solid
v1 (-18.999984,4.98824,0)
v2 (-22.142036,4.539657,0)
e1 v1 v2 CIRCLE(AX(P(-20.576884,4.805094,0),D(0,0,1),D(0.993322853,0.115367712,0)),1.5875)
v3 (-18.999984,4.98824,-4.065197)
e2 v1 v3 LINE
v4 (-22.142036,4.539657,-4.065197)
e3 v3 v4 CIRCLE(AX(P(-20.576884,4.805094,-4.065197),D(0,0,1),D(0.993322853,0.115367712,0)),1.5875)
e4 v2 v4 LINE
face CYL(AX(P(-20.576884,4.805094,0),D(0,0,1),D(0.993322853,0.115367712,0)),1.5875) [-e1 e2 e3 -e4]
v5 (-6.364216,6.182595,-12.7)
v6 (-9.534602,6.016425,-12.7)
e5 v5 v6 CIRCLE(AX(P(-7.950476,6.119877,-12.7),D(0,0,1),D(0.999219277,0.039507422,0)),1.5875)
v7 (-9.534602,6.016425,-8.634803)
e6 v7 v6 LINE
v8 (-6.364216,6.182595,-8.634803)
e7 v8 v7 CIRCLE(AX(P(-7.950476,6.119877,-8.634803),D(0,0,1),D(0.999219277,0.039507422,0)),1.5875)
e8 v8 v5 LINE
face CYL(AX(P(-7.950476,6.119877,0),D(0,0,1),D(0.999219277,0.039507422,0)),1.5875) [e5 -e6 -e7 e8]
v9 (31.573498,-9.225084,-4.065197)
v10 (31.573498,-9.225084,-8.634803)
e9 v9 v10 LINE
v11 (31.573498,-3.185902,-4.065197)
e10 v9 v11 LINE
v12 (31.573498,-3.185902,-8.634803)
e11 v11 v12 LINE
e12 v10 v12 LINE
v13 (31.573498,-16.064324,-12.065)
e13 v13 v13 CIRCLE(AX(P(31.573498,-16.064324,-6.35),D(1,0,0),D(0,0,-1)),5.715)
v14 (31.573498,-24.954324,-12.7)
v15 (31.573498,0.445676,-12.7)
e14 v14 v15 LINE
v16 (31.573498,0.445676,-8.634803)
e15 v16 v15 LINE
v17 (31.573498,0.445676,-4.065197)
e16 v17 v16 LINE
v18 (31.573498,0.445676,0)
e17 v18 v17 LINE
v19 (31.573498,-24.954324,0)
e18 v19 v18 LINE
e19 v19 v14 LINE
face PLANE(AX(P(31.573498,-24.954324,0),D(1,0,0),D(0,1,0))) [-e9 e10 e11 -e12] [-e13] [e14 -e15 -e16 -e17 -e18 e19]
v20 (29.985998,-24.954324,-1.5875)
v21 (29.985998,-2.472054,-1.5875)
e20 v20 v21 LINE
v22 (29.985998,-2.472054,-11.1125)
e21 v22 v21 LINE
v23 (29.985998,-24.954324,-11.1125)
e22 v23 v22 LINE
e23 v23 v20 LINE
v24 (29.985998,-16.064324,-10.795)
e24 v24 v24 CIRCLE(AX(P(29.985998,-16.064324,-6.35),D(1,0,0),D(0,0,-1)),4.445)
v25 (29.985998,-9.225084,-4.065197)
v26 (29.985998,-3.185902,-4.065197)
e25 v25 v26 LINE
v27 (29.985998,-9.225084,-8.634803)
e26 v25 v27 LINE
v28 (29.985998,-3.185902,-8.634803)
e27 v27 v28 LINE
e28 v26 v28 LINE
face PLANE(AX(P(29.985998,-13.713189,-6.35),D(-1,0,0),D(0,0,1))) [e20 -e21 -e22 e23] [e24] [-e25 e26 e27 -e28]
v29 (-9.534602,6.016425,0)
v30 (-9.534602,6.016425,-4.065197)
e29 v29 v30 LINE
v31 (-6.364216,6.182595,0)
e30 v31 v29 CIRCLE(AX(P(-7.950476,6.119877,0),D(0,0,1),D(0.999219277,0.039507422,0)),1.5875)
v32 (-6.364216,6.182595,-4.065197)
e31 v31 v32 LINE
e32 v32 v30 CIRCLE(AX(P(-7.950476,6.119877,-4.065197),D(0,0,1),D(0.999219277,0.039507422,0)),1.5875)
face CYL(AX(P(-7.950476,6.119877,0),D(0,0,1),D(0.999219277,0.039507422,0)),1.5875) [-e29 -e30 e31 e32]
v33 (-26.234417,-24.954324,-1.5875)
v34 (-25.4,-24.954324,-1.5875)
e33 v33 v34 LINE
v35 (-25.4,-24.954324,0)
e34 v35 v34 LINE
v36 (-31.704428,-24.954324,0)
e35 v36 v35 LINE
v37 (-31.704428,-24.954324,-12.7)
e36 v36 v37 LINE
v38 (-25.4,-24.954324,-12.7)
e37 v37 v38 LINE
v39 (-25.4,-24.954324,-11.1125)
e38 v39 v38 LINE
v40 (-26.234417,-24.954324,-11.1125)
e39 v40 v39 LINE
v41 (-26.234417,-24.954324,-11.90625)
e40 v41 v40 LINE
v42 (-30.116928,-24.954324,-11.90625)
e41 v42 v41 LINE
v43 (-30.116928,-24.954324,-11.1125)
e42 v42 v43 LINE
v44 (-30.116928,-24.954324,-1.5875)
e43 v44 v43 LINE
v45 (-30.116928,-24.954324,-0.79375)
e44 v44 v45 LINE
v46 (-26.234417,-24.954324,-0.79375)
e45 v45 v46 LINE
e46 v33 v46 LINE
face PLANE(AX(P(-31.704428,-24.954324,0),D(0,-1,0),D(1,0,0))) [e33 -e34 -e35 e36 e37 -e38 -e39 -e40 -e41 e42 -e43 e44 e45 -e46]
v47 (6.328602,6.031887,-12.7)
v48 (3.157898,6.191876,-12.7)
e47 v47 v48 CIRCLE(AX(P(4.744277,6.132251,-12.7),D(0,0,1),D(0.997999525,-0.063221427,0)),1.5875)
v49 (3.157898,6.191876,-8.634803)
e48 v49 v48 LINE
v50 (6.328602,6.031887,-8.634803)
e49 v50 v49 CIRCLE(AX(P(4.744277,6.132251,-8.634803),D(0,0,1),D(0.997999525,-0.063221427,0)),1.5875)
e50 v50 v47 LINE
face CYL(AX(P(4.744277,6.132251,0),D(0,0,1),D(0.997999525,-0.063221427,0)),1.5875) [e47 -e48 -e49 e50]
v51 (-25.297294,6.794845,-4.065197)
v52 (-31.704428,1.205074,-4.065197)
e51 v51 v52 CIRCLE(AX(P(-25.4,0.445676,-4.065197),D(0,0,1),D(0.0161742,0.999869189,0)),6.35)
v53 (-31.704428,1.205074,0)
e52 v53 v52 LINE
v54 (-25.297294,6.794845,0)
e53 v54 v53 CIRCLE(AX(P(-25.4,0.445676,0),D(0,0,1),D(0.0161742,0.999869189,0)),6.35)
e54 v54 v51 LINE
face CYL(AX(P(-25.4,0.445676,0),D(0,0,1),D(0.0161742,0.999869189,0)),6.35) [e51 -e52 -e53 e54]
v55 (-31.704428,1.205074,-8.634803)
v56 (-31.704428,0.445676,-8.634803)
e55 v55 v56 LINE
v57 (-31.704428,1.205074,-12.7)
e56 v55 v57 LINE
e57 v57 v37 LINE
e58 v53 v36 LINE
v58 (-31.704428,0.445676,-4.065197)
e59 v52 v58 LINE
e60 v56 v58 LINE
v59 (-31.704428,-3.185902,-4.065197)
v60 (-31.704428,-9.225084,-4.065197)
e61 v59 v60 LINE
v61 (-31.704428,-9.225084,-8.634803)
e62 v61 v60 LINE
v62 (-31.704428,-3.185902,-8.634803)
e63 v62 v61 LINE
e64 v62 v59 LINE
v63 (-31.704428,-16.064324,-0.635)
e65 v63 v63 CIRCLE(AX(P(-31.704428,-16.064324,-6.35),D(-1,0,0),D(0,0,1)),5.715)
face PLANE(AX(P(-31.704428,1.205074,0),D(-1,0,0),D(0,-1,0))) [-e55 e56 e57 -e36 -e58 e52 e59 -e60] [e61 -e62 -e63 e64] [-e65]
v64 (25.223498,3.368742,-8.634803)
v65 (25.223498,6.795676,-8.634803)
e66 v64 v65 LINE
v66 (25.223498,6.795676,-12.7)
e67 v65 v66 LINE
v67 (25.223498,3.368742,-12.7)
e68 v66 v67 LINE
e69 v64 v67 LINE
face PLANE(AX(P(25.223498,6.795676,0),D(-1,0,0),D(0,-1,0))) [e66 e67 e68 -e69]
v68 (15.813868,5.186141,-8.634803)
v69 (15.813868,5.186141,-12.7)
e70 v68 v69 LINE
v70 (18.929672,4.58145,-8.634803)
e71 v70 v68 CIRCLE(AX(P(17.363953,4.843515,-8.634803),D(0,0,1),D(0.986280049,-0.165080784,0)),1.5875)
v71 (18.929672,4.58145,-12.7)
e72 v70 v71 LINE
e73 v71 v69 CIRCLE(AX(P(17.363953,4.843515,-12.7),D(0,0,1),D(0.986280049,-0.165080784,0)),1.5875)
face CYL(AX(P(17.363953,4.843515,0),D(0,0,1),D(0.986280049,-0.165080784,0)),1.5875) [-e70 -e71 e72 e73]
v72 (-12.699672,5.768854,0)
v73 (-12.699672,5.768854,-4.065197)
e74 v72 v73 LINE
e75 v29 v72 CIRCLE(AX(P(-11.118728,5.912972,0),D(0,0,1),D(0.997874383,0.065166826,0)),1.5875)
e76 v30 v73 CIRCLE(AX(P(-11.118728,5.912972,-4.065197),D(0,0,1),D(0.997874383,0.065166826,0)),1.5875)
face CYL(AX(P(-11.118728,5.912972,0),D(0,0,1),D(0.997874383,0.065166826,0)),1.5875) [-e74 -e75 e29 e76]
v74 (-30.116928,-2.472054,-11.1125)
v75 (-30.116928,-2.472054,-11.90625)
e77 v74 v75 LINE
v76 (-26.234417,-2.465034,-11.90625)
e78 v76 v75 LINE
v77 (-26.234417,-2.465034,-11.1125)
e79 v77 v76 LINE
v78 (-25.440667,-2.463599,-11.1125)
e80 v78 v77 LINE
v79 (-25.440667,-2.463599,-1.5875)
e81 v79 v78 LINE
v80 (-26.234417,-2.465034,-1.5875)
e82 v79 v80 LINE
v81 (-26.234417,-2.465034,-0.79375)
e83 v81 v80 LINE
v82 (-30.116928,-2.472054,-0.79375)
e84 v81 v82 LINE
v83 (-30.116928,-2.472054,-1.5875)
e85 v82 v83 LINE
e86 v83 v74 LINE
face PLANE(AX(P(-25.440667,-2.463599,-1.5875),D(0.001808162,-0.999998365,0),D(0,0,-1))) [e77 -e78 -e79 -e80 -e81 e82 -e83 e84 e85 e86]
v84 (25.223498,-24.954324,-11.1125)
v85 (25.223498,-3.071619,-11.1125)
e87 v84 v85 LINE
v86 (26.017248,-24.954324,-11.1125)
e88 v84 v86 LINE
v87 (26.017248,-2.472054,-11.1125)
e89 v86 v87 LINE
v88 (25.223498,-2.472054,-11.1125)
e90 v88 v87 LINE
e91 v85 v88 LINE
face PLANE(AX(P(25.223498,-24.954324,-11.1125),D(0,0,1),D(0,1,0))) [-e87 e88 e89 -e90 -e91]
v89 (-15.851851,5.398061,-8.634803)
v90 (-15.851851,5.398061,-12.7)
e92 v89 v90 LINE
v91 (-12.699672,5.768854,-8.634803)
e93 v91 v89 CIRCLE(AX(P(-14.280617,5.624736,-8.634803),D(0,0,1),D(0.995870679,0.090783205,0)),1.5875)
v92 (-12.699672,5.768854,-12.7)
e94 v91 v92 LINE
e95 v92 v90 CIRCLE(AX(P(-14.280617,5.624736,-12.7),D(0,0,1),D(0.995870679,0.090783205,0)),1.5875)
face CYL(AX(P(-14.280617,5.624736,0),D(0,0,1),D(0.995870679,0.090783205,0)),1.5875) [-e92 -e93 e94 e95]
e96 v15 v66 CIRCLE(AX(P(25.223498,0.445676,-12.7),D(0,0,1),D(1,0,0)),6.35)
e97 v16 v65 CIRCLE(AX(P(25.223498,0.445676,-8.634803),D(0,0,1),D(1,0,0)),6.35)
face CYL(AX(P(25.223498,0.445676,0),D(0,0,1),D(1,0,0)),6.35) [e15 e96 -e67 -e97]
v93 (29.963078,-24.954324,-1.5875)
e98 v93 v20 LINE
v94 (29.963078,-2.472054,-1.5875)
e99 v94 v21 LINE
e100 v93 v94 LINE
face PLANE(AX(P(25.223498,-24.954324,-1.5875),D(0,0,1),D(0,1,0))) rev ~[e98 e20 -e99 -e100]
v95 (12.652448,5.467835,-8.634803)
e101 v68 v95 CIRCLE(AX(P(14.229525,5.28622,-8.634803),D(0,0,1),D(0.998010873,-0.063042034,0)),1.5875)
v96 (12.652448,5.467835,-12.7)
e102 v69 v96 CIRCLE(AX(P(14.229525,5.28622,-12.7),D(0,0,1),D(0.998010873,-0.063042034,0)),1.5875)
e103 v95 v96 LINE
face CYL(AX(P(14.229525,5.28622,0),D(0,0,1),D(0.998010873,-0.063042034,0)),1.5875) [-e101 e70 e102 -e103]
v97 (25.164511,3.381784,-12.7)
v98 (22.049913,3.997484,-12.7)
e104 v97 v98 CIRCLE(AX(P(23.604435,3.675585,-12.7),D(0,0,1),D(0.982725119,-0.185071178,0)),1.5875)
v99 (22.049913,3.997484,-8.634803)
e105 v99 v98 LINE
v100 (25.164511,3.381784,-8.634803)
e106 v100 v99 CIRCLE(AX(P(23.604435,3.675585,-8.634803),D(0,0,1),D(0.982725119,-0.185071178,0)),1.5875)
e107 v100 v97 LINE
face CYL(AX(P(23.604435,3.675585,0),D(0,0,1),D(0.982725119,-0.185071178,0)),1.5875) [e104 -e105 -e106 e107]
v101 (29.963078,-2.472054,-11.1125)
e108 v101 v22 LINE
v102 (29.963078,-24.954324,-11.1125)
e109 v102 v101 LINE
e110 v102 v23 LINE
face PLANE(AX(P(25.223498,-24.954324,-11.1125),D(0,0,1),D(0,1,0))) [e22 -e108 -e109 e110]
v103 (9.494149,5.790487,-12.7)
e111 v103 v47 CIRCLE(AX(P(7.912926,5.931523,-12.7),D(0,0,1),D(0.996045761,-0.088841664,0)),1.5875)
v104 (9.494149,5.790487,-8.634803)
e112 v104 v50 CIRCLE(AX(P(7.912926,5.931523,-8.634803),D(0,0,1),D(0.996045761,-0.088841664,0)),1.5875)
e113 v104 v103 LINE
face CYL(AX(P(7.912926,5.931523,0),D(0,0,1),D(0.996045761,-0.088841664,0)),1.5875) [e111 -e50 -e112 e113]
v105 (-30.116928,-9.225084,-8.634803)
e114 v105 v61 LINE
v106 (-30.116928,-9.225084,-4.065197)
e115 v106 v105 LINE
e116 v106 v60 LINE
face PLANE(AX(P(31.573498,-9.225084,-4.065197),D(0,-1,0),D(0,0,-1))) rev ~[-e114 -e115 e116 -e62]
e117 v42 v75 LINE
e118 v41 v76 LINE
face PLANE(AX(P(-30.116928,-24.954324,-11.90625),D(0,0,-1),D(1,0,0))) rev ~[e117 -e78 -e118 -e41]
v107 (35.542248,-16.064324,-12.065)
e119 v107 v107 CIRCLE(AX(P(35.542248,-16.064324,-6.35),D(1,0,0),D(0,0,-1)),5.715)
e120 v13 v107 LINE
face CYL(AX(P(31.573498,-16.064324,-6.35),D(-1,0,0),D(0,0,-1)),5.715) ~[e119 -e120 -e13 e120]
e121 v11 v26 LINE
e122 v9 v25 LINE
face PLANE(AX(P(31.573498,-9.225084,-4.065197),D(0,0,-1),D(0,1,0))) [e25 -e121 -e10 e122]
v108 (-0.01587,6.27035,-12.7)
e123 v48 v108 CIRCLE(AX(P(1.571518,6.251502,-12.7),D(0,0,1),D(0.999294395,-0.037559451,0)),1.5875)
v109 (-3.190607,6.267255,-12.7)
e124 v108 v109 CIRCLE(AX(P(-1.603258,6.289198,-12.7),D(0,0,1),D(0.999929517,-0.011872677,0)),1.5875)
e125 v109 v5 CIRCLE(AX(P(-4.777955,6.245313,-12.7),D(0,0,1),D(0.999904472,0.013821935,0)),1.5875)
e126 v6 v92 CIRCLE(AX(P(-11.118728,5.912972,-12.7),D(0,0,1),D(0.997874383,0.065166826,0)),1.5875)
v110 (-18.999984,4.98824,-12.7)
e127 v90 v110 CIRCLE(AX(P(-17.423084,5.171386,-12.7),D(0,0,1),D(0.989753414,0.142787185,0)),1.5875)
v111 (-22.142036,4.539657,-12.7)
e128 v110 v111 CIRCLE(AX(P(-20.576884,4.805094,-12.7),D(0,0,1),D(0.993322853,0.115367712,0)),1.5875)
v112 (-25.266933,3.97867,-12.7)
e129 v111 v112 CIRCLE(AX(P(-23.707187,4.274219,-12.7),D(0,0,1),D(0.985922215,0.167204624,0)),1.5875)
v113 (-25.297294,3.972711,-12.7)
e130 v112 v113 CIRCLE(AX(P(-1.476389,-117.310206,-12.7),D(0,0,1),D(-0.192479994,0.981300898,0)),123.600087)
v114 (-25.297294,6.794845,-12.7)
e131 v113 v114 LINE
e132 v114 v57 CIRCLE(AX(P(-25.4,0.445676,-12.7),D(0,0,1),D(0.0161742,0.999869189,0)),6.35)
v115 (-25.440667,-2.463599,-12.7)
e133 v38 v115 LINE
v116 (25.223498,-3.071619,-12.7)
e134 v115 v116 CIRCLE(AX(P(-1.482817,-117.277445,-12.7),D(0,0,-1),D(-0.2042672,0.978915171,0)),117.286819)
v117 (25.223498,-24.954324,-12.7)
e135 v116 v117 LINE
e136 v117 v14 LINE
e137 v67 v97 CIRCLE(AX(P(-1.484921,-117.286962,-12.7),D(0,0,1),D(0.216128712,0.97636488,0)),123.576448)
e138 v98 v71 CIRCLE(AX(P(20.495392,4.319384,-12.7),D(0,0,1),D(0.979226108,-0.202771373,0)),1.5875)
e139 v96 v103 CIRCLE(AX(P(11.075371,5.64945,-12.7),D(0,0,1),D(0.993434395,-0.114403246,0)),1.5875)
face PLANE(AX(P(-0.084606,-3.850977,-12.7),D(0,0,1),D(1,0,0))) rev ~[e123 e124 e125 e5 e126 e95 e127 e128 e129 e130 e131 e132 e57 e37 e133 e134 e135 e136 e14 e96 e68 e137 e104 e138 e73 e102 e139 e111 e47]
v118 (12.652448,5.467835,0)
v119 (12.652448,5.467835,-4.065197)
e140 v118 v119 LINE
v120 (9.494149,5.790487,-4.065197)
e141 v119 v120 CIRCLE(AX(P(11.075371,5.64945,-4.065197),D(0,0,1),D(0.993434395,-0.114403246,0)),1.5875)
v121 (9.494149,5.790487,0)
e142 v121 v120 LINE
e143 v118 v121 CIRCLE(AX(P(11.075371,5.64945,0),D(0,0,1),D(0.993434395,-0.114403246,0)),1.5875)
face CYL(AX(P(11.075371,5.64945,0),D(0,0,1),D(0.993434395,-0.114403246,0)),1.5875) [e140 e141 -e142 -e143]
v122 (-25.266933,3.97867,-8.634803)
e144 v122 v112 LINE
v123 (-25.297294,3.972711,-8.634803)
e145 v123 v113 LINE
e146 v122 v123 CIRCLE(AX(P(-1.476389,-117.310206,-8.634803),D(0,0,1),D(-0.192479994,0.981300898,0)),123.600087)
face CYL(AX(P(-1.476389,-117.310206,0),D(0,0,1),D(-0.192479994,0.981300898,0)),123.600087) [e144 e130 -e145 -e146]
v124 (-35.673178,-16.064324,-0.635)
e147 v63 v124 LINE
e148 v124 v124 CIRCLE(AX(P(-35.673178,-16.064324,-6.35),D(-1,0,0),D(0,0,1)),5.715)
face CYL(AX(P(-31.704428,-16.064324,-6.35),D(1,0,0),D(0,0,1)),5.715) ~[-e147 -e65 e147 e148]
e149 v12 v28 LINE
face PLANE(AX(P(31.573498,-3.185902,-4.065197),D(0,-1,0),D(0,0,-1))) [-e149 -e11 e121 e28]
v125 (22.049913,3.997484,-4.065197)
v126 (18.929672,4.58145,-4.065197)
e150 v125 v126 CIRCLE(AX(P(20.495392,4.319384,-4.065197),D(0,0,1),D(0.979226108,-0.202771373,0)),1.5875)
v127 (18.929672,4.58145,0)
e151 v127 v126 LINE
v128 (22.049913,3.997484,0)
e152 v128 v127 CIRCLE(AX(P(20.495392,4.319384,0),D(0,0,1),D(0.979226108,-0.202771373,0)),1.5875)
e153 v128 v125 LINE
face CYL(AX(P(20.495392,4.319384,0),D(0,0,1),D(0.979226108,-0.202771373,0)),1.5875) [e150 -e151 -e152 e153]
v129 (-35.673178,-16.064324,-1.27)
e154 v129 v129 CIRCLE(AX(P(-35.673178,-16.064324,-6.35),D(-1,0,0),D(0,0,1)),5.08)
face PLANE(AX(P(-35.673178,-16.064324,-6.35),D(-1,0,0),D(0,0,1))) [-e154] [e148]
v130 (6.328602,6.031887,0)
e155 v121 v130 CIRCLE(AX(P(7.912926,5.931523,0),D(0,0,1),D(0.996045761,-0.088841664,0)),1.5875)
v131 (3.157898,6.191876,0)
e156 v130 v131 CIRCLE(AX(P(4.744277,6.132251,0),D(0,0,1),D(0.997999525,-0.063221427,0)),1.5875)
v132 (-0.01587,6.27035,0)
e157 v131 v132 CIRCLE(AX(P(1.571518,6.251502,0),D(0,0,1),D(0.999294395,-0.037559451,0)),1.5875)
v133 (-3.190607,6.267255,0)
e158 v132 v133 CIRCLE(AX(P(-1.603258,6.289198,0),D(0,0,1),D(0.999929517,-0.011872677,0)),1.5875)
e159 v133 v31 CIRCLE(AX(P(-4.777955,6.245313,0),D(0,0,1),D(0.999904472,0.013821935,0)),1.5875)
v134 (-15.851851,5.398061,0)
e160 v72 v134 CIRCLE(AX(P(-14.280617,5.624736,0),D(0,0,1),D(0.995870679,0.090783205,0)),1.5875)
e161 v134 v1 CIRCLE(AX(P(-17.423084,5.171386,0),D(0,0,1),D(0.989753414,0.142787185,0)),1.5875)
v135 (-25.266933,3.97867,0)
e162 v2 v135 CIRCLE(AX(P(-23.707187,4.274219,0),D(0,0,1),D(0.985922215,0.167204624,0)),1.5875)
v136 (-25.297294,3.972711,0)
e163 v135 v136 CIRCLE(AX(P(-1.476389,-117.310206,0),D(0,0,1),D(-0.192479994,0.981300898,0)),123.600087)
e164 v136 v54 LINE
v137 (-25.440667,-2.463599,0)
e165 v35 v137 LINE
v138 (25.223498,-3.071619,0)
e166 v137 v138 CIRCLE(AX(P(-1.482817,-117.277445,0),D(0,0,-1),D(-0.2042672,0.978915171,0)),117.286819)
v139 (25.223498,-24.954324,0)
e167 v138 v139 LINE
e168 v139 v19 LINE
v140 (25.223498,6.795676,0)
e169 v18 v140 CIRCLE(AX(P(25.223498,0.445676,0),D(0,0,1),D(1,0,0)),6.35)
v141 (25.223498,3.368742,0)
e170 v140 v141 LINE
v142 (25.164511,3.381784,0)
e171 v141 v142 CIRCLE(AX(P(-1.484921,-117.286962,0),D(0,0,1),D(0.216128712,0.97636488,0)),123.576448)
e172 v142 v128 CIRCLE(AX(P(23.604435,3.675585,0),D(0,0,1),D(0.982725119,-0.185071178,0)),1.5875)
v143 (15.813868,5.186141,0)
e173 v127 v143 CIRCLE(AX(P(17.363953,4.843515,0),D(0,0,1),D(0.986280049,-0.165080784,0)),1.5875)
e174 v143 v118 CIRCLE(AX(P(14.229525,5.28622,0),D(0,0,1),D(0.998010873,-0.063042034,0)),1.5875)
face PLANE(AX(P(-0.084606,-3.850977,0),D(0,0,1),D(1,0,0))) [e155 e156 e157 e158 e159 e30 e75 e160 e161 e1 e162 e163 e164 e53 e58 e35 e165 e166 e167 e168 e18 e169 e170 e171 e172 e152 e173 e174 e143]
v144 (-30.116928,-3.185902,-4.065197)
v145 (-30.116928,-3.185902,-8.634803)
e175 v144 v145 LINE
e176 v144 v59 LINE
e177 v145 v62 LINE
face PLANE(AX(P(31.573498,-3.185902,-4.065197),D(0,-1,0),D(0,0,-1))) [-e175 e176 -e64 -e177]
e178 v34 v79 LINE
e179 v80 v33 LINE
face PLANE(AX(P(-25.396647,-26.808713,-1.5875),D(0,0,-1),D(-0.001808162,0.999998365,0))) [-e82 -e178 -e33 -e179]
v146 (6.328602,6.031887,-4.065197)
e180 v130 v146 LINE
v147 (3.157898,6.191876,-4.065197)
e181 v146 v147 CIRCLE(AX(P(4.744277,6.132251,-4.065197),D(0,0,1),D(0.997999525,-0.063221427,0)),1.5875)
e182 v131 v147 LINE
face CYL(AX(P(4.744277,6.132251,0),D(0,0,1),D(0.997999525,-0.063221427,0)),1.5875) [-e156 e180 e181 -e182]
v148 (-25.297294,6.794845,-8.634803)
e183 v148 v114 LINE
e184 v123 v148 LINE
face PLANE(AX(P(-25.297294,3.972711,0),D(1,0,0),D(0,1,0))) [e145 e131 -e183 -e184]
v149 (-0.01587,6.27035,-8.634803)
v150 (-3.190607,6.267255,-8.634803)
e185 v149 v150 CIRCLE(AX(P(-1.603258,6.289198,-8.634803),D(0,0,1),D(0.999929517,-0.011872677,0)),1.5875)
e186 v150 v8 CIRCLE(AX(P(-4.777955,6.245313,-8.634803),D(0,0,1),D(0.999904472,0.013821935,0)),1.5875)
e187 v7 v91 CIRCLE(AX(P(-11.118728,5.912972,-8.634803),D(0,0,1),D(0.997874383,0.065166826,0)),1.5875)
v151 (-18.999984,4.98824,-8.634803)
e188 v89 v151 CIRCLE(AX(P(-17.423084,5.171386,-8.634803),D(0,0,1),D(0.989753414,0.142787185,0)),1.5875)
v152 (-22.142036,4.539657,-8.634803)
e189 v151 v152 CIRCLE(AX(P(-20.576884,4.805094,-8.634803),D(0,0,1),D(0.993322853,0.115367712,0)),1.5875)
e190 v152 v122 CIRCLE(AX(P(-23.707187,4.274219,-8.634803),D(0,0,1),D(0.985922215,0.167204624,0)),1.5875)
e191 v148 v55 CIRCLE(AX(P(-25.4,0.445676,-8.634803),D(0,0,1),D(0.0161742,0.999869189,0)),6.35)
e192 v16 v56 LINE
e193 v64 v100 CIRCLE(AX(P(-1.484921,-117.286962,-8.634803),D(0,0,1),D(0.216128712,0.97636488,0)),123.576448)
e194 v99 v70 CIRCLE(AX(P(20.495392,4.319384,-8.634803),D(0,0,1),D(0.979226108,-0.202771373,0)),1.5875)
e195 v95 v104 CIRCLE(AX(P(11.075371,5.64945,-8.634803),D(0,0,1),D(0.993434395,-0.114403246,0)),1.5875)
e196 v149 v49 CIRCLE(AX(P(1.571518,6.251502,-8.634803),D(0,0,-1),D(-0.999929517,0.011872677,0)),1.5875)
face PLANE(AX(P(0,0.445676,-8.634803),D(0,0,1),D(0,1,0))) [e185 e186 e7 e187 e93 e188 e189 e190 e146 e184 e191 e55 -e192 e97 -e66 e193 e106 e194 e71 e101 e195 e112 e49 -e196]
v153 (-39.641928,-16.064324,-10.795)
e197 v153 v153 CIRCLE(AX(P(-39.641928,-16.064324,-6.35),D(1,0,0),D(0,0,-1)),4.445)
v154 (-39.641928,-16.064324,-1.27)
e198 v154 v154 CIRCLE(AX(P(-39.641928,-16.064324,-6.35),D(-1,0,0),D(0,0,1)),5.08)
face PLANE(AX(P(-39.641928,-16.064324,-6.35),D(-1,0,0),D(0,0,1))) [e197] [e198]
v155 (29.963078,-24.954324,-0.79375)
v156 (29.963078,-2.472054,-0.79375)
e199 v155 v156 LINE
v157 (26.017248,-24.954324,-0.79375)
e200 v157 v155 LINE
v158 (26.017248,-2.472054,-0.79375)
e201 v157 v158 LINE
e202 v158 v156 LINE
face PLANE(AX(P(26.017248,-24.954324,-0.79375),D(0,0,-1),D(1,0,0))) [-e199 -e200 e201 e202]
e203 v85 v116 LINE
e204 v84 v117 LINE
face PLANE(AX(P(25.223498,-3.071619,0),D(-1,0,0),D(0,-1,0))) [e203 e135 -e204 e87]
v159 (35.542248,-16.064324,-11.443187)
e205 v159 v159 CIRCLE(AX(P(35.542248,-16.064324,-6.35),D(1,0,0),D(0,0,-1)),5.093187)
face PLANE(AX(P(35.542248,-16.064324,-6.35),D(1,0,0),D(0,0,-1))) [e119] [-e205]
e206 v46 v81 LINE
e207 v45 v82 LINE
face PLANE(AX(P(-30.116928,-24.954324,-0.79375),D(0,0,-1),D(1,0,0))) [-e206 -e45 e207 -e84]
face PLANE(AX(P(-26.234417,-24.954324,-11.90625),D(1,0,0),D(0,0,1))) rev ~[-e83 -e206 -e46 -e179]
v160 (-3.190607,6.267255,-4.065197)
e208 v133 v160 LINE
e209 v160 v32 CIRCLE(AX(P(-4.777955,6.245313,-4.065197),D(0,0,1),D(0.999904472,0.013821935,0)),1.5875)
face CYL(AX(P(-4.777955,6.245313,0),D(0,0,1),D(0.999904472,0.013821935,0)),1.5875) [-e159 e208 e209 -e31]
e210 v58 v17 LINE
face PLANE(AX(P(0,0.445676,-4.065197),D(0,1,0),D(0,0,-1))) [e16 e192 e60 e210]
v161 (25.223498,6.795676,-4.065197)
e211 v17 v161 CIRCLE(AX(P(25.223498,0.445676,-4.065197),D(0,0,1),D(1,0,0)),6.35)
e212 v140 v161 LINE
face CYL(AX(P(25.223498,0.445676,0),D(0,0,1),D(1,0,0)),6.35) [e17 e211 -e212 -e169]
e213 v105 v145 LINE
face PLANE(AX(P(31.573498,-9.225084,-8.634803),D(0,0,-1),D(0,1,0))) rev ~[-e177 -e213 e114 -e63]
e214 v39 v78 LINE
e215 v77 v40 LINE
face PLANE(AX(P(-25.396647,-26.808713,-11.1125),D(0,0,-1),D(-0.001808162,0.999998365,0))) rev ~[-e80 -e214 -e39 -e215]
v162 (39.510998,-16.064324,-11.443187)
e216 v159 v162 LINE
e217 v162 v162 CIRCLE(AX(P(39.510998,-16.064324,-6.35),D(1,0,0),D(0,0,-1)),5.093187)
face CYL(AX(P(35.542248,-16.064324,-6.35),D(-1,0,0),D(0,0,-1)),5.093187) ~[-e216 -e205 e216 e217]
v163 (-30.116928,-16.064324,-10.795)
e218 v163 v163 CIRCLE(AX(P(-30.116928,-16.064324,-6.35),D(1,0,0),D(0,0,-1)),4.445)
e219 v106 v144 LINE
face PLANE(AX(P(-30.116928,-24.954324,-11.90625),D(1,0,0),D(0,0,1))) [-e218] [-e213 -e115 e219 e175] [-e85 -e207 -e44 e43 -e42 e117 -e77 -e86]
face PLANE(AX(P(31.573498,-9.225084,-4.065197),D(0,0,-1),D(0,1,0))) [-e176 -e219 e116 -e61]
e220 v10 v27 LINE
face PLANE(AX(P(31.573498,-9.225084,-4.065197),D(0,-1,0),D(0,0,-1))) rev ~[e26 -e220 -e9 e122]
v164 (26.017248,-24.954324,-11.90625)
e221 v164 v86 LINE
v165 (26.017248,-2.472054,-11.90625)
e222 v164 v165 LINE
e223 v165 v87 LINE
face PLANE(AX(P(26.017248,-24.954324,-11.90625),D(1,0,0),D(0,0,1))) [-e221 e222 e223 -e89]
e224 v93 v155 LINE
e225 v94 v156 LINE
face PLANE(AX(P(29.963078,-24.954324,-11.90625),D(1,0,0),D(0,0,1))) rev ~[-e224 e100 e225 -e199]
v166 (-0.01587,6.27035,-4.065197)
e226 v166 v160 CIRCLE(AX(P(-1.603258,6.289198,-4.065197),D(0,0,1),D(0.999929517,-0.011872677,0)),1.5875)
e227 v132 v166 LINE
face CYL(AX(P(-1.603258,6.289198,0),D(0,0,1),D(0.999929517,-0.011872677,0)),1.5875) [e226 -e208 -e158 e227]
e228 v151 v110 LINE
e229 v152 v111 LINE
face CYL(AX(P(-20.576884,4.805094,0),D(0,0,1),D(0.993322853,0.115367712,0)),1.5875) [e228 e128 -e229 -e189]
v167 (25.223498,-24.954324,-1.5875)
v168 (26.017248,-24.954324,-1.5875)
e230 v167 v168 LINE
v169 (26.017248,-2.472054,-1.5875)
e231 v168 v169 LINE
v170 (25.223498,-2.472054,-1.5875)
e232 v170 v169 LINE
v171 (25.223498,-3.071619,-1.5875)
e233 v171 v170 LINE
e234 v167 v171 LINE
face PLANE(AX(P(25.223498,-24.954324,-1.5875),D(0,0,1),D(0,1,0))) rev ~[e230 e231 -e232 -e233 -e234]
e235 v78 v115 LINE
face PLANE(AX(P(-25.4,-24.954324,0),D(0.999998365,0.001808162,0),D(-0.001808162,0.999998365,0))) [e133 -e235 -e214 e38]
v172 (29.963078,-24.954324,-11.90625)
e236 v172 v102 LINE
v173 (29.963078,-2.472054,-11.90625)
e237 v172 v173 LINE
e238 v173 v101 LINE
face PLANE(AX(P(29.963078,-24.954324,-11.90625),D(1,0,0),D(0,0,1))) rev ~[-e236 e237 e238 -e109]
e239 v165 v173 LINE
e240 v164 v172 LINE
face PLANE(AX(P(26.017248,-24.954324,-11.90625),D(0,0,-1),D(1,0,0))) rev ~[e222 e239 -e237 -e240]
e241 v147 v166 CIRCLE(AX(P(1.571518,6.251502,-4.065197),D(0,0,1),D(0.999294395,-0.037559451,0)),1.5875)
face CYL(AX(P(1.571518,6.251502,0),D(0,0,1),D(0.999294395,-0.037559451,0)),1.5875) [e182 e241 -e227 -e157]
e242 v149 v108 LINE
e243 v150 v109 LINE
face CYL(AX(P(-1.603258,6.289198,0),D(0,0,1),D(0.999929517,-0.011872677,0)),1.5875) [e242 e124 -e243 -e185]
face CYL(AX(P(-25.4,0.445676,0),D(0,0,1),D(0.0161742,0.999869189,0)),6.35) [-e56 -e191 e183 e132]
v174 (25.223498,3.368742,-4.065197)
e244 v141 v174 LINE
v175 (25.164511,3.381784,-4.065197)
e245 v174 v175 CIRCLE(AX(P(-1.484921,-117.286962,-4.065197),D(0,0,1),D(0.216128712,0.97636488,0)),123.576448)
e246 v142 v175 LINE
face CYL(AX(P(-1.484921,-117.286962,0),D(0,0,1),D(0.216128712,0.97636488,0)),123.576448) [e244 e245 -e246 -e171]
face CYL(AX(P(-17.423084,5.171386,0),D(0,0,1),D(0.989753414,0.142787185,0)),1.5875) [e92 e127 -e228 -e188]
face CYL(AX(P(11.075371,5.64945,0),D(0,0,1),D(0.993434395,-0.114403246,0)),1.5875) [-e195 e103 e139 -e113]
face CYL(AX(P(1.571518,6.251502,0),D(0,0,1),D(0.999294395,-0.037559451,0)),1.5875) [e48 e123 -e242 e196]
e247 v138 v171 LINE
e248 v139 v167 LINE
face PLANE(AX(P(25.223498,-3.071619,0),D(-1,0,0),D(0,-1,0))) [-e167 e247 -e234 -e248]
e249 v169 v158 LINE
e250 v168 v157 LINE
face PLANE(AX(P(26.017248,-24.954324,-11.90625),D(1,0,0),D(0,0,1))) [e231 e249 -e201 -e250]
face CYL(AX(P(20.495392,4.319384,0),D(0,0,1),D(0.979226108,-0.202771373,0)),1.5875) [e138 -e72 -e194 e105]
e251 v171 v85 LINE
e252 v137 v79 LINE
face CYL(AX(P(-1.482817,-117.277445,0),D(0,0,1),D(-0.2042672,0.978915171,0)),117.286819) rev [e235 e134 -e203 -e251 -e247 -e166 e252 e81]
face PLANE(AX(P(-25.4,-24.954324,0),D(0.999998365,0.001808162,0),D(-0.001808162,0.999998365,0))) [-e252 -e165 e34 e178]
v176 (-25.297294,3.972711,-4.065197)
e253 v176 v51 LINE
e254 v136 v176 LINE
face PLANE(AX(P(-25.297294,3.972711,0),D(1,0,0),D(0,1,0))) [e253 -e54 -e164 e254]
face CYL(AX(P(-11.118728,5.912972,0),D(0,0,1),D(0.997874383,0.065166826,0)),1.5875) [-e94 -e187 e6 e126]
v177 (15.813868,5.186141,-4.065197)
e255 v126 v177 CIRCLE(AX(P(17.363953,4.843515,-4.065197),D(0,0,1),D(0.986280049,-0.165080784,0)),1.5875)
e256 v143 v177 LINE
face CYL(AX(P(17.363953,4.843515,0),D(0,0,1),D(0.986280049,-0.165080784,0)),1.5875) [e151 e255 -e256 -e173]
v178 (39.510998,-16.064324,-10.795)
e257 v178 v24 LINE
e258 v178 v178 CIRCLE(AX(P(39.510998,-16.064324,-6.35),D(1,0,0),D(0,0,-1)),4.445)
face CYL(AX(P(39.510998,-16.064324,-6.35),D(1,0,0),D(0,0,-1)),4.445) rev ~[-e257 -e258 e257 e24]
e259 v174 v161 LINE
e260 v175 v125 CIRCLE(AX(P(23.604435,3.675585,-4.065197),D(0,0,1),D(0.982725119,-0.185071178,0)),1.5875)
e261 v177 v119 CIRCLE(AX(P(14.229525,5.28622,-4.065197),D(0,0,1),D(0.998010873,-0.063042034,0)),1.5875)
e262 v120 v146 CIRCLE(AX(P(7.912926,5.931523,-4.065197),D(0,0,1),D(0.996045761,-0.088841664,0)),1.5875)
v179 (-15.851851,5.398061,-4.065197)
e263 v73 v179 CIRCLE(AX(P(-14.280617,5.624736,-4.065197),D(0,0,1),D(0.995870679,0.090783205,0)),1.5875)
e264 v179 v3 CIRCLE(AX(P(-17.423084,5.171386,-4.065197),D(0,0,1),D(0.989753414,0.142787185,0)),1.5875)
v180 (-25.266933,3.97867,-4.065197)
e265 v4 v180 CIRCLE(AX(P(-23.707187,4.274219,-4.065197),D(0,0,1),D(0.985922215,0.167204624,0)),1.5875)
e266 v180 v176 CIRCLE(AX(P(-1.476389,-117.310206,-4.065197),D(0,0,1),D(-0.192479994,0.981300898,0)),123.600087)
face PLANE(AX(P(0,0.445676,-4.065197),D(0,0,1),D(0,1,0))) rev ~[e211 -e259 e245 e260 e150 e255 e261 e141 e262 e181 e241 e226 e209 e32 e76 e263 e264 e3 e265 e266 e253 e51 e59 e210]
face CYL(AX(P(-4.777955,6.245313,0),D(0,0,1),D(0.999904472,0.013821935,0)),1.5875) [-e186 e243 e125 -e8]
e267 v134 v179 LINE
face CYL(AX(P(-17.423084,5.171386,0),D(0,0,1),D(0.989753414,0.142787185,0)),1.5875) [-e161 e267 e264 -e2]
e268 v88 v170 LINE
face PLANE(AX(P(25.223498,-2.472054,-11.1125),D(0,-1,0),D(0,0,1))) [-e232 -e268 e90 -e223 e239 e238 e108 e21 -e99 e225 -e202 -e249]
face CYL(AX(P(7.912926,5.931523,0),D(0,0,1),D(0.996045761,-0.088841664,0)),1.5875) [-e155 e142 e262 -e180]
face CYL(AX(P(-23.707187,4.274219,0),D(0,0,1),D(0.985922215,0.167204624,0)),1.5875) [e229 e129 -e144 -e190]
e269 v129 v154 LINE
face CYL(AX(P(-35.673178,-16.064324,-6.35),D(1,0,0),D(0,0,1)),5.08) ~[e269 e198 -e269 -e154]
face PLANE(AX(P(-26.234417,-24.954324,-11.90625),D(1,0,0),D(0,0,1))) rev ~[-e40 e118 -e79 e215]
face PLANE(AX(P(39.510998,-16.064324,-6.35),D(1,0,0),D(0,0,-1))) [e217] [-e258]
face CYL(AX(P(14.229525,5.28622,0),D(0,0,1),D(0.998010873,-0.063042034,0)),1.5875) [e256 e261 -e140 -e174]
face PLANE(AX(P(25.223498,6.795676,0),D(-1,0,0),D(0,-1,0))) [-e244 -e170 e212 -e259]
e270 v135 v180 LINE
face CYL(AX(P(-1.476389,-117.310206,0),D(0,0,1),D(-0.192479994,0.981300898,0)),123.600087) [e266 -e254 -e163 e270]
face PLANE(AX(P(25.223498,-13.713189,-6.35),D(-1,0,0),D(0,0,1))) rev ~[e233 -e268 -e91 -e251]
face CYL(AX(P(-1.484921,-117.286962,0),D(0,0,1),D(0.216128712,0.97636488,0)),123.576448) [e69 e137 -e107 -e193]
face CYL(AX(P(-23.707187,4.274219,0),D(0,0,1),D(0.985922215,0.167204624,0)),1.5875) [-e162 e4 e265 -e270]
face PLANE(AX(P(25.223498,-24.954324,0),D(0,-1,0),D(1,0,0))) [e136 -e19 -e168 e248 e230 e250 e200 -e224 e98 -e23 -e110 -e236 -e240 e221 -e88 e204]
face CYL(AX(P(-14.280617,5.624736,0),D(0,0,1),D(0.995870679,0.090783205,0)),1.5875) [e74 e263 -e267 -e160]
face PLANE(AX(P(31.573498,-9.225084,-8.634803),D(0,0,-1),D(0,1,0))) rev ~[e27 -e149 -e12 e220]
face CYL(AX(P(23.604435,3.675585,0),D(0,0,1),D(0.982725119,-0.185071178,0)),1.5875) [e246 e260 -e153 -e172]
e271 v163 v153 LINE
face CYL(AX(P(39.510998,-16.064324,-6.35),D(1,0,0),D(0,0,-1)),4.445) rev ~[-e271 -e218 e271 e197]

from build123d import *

# Parameters (mm, degrees)
BOSS_EXTRUDE1_DEPTH              = 12.7
SKETCH3_W                        = 4.569606656
SKETCH3_H                        = 12.610946307
CUT_EXTRUDE1_DEPTH               = 32.573497659
CUT_EXTRUDE1_DEPTH_BACK          = 32.704428158
SKETCH4_W                        = 4.569606656
SKETCH4_H                        = 6.0391821
CUT_EXTRUDE2_DEPTH               = 66.04
SKETCH5_R                        = 5.715
BOSS_EXTRUDE2_DEPTH              = 3.96875
SKETCH7_R                        = 5.09318723
BOSS_EXTRUDE3_DEPTH              = 3.96875
SKETCH9_R                        = 5.715
BOSS_EXTRUDE4_DEPTH              = 3.96875
SKETCH10_R                       = 5.08
BOSS_EXTRUDE5_DEPTH              = 3.96875
SKETCH8_R                        = 4.445
CUT_EXTRUDE4_DEPTH               = 80.152925816
CUT_EXTRUDE5_REACH               = 17.829
CUT_EXTRUDE5_OFFSET_FROM_SURFACE = 1.5875
SKETCH11_W                       = 9.525
SKETCH11_H                       = 24.345154454
SKETCH13_W                       = 9.525
SKETCH13_H                       = 22.482269966
CUT_EXTRUDE6_DEPTH               = 4.7625
CUT_EXTRUDE7_REACH               = 34.831
SKETCH14_W                       = 3.882511223
SKETCH14_H                       = 11.1125
SKETCH15_W                       = 3.945830838
SKETCH15_H                       = 11.1125
CUT_EXTRUDE8_DEPTH               = 22.48227


with BuildPart() as part:
    # Sketch1 → Boss-Extrude1 (new body)
    with BuildSketch(Plane.XY):
        with BuildLine():
            Line((25.223497659, -24.95432425), (31.573497659, -24.95432425))
            Line((31.573497659, -24.95432425), (31.573497659, 0.44567575))
            ThreePointArc((31.573497659, 0.44567575), (29.713625719, 4.935803811), (25.223497659, 6.79567575))
            Line((25.223497659, 6.79567575), (25.223497659, 3.36874218))
            ThreePointArc((25.223497659, 3.36874218), (25.194005143, 3.37526688), (25.164511033, 3.381784371))
            ThreePointArc((25.164511033, 3.381784371), (23.912297459, 5.232947026), (22.049913461, 3.997484421))
            ThreePointArc((22.049913461, 3.997484421), (20.787428344, 5.879791305), (18.929672437, 4.581449722))
            ThreePointArc((18.929672437, 4.581449722), (17.666399498, 6.401938478), (15.813867684, 5.186140916))
            ThreePointArc((15.813867684, 5.186140916), (14.370419451, 6.86745546), (12.652448322, 5.467835298))
            ThreePointArc((12.652448322, 5.467835298), (11.236710182, 7.228730664), (9.494148573, 5.790486593))
            ThreePointArc((9.494148573, 5.790486593), (8.033635968, 7.514426817), (6.328601682, 6.03188675))
            ThreePointArc((6.328601682, 6.03188675), (4.824278861, 7.717733664), (3.157897585, 6.191876393))
            ThreePointArc((3.157897585, 6.191876393), (1.610757722, 7.838516978), (-0.015870376, 6.270349895))
            ThreePointArc((-0.015870376, 6.270349895), (-1.604805836, 7.876697016), (-3.190606835, 6.267255447))
            ThreePointArc((-3.190606835, 6.267255447), (-4.820288856, 7.832248571), (-6.364215787, 6.182595092))
            ThreePointArc((-6.364215787, 6.182595092), (-8.033568431, 7.705200989), (-9.534601973, 6.016424724))
            ThreePointArc((-9.534601973, 6.016424724), (-11.24252311, 7.495638149), (-12.69967226, 5.76885405))
            ThreePointArc((-12.69967226, 5.76885405), (-14.466077033, 7.201365285), (-15.851850507, 5.398061056))
            ThreePointArc((-15.851850507, 5.398061056), (-17.628014087, 6.745603643), (-18.999984081, 4.988240156))
            ThreePointArc((-18.999984081, 4.988240156), (-20.801252814, 6.376658399), (-22.142035626, 4.539656571))
            ThreePointArc((-22.142035626, 4.539656571), (-23.987693231, 5.836740457), (-25.266933007, 3.978670437))
            ThreePointArc((-25.266933007, 3.978670437), (-25.282113604, 3.97569181), (-25.297293828, 3.972711283))
            Line((-25.297293828, 3.972711283), (-25.297293828, 6.794845101))
            ThreePointArc((-25.297293828, 6.794845101), (-29.574532825, 5.2306288), (-31.704428158, 1.205073937))
            Line((-31.704428158, 1.205073937), (-31.704428158, -24.95432425))
            Line((-31.704428158, -24.95432425), (-25.4, -24.95432425))
            Line((-25.4, -24.95432425), (-25.440666935, -2.463598833))
            ThreePointArc((-25.440666935, -2.463598833), (-0.075359426, 0.000928604), (25.223497659, -3.071619312))
            Line((25.223497659, -3.071619312), (25.223497659, -24.95432425))
        make_face()
    extrude(amount=-BOSS_EXTRUDE1_DEPTH)

    # Sketch3 → Cut-Extrude1 (cut, two sides)
    with BuildSketch(Plane(origin=(0, 0, 0), x_dir=(0, 0, -1), z_dir=(1, 0, 0))) as cut_extrude1_sk:
        with Locations((6.35, 6.751148903)):
            Rectangle(SKETCH3_W, SKETCH3_H)
    extrude(amount=CUT_EXTRUDE1_DEPTH, mode=Mode.SUBTRACT)
    extrude(cut_extrude1_sk.sketch, amount=-CUT_EXTRUDE1_DEPTH_BACK, mode=Mode.SUBTRACT)

    # Sketch4 → Cut-Extrude2 (cut)
    with BuildSketch(Plane(origin=(31.573497659, 0, 0), x_dir=(0, 0, -1), z_dir=(1, 0, 0))):
        with Locations((6.35, -6.205492883)):
            Rectangle(SKETCH4_W, SKETCH4_H)
    extrude(amount=-CUT_EXTRUDE2_DEPTH, mode=Mode.SUBTRACT)

    # Sketch5 → Boss-Extrude2 (add)
    with BuildSketch(Plane(origin=(31.573497659, 0, 0), x_dir=(0, 0, -1), z_dir=(1, 0, 0))):
        with Locations((6.35, -16.06432425)):
            Circle(SKETCH5_R)
    extrude(amount=BOSS_EXTRUDE2_DEPTH)

    # Sketch7 → Boss-Extrude3 (add)
    with BuildSketch(Plane(origin=(35.542247659, 0, 0), x_dir=(0, 0, -1), z_dir=(1, 0, 0))):
        with Locations((6.35, -16.06432425)):
            Circle(SKETCH7_R)
    extrude(amount=BOSS_EXTRUDE3_DEPTH)

    # Sketch9 → Boss-Extrude4 (add)
    with BuildSketch(Plane.ZY.offset(31.704428158)):
        with Locations((-6.35, -16.06432425)):
            Circle(SKETCH9_R)
    extrude(amount=BOSS_EXTRUDE4_DEPTH)

    # Sketch10 → Boss-Extrude5 (add)
    with BuildSketch(Plane.ZY.offset(35.673178158)):
        with Locations((-6.35, -16.06432425)):
            Circle(SKETCH10_R)
    extrude(amount=BOSS_EXTRUDE5_DEPTH)

    # Sketch8 → Cut-Extrude4 (cut, through all)
    with BuildSketch(Plane(origin=(39.510997659, 0, 0), x_dir=(0, 0, -1), z_dir=(1, 0, 0))):
        with Locations((6.35, -16.06432425)):
            Circle(SKETCH8_R)
    extrude(amount=-CUT_EXTRUDE4_DEPTH, mode=Mode.SUBTRACT)

    # Cut-Extrude5: up to this face of the body (flat: up to its plane, moved by the offset)
    cut_extrude5_end = Plane(part.part.faces().sort_by_distance((-31.704428158, -11.874625156, -0.290792729))[0]).offset(-CUT_EXTRUDE5_OFFSET_FROM_SURFACE)
    # Sketch11 → Cut-Extrude5 (cut, up to the picked face)
    with BuildSketch(Plane(origin=(-25.445038336, -0.046008819, 0), x_dir=(0, 0, -1), z_dir=(0.999998365, 0.001808162, 0)), mode=Mode.PRIVATE) as cut_extrude5_sk1:
        with Locations((6.35, -14.590171194)):
            Rectangle(SKETCH11_W, SKETCH11_H)
    cut_extrude5_tool1 = split(extrude(cut_extrude5_sk1.sketch, amount=-CUT_EXTRUDE5_REACH, mode=Mode.PRIVATE), bisect_by=cut_extrude5_end, keep=Keep.BOTH, mode=Mode.PRIVATE)
    add(cut_extrude5_tool1.solids().sort_by_distance((-25.418657, -14.636156, -6.35))[0], mode=Mode.SUBTRACT)

    # Sketch13 → Cut-Extrude6 (cut)
    with BuildSketch(Plane.ZY.offset(-25.223497659)):
        with Locations((-6.35, -13.713189267)):
            Rectangle(SKETCH13_W, SKETCH13_H)
    extrude(amount=-CUT_EXTRUDE6_DEPTH, mode=Mode.SUBTRACT)

    # Cut-Extrude7: up to this face of the body (flat: up to its plane)
    cut_extrude7_end = Plane(part.part.faces().sort_by_distance((-27.778797546, -2.467826558, -6.35))[0])
    # Sketch14 → Cut-Extrude7 (cut, up to the picked face)
    with BuildSketch(Plane.XZ.offset(24.95432425), mode=Mode.PRIVATE) as cut_extrude7_sk1:
        with Locations((-28.175672547, -6.35)):
            Rectangle(SKETCH14_W, SKETCH14_H)
    cut_extrude7_tool1 = split(extrude(cut_extrude7_sk1.sketch, amount=-CUT_EXTRUDE7_REACH, mode=Mode.PRIVATE), bisect_by=cut_extrude7_end, keep=Keep.BOTH, mode=Mode.PRIVATE)
    add(cut_extrude7_tool1.solids().sort_by_distance((-28.175673, -24.954324, -6.35))[0], mode=Mode.SUBTRACT)

    # Sketch15 → Cut-Extrude8 (cut)
    with BuildSketch(Plane.XZ.offset(24.95432425)):
        with Locations((27.990163078, -6.35)):
            Rectangle(SKETCH15_W, SKETCH15_H)
    extrude(amount=-CUT_EXTRUDE8_DEPTH, mode=Mode.SUBTRACT)


solid = part.part
